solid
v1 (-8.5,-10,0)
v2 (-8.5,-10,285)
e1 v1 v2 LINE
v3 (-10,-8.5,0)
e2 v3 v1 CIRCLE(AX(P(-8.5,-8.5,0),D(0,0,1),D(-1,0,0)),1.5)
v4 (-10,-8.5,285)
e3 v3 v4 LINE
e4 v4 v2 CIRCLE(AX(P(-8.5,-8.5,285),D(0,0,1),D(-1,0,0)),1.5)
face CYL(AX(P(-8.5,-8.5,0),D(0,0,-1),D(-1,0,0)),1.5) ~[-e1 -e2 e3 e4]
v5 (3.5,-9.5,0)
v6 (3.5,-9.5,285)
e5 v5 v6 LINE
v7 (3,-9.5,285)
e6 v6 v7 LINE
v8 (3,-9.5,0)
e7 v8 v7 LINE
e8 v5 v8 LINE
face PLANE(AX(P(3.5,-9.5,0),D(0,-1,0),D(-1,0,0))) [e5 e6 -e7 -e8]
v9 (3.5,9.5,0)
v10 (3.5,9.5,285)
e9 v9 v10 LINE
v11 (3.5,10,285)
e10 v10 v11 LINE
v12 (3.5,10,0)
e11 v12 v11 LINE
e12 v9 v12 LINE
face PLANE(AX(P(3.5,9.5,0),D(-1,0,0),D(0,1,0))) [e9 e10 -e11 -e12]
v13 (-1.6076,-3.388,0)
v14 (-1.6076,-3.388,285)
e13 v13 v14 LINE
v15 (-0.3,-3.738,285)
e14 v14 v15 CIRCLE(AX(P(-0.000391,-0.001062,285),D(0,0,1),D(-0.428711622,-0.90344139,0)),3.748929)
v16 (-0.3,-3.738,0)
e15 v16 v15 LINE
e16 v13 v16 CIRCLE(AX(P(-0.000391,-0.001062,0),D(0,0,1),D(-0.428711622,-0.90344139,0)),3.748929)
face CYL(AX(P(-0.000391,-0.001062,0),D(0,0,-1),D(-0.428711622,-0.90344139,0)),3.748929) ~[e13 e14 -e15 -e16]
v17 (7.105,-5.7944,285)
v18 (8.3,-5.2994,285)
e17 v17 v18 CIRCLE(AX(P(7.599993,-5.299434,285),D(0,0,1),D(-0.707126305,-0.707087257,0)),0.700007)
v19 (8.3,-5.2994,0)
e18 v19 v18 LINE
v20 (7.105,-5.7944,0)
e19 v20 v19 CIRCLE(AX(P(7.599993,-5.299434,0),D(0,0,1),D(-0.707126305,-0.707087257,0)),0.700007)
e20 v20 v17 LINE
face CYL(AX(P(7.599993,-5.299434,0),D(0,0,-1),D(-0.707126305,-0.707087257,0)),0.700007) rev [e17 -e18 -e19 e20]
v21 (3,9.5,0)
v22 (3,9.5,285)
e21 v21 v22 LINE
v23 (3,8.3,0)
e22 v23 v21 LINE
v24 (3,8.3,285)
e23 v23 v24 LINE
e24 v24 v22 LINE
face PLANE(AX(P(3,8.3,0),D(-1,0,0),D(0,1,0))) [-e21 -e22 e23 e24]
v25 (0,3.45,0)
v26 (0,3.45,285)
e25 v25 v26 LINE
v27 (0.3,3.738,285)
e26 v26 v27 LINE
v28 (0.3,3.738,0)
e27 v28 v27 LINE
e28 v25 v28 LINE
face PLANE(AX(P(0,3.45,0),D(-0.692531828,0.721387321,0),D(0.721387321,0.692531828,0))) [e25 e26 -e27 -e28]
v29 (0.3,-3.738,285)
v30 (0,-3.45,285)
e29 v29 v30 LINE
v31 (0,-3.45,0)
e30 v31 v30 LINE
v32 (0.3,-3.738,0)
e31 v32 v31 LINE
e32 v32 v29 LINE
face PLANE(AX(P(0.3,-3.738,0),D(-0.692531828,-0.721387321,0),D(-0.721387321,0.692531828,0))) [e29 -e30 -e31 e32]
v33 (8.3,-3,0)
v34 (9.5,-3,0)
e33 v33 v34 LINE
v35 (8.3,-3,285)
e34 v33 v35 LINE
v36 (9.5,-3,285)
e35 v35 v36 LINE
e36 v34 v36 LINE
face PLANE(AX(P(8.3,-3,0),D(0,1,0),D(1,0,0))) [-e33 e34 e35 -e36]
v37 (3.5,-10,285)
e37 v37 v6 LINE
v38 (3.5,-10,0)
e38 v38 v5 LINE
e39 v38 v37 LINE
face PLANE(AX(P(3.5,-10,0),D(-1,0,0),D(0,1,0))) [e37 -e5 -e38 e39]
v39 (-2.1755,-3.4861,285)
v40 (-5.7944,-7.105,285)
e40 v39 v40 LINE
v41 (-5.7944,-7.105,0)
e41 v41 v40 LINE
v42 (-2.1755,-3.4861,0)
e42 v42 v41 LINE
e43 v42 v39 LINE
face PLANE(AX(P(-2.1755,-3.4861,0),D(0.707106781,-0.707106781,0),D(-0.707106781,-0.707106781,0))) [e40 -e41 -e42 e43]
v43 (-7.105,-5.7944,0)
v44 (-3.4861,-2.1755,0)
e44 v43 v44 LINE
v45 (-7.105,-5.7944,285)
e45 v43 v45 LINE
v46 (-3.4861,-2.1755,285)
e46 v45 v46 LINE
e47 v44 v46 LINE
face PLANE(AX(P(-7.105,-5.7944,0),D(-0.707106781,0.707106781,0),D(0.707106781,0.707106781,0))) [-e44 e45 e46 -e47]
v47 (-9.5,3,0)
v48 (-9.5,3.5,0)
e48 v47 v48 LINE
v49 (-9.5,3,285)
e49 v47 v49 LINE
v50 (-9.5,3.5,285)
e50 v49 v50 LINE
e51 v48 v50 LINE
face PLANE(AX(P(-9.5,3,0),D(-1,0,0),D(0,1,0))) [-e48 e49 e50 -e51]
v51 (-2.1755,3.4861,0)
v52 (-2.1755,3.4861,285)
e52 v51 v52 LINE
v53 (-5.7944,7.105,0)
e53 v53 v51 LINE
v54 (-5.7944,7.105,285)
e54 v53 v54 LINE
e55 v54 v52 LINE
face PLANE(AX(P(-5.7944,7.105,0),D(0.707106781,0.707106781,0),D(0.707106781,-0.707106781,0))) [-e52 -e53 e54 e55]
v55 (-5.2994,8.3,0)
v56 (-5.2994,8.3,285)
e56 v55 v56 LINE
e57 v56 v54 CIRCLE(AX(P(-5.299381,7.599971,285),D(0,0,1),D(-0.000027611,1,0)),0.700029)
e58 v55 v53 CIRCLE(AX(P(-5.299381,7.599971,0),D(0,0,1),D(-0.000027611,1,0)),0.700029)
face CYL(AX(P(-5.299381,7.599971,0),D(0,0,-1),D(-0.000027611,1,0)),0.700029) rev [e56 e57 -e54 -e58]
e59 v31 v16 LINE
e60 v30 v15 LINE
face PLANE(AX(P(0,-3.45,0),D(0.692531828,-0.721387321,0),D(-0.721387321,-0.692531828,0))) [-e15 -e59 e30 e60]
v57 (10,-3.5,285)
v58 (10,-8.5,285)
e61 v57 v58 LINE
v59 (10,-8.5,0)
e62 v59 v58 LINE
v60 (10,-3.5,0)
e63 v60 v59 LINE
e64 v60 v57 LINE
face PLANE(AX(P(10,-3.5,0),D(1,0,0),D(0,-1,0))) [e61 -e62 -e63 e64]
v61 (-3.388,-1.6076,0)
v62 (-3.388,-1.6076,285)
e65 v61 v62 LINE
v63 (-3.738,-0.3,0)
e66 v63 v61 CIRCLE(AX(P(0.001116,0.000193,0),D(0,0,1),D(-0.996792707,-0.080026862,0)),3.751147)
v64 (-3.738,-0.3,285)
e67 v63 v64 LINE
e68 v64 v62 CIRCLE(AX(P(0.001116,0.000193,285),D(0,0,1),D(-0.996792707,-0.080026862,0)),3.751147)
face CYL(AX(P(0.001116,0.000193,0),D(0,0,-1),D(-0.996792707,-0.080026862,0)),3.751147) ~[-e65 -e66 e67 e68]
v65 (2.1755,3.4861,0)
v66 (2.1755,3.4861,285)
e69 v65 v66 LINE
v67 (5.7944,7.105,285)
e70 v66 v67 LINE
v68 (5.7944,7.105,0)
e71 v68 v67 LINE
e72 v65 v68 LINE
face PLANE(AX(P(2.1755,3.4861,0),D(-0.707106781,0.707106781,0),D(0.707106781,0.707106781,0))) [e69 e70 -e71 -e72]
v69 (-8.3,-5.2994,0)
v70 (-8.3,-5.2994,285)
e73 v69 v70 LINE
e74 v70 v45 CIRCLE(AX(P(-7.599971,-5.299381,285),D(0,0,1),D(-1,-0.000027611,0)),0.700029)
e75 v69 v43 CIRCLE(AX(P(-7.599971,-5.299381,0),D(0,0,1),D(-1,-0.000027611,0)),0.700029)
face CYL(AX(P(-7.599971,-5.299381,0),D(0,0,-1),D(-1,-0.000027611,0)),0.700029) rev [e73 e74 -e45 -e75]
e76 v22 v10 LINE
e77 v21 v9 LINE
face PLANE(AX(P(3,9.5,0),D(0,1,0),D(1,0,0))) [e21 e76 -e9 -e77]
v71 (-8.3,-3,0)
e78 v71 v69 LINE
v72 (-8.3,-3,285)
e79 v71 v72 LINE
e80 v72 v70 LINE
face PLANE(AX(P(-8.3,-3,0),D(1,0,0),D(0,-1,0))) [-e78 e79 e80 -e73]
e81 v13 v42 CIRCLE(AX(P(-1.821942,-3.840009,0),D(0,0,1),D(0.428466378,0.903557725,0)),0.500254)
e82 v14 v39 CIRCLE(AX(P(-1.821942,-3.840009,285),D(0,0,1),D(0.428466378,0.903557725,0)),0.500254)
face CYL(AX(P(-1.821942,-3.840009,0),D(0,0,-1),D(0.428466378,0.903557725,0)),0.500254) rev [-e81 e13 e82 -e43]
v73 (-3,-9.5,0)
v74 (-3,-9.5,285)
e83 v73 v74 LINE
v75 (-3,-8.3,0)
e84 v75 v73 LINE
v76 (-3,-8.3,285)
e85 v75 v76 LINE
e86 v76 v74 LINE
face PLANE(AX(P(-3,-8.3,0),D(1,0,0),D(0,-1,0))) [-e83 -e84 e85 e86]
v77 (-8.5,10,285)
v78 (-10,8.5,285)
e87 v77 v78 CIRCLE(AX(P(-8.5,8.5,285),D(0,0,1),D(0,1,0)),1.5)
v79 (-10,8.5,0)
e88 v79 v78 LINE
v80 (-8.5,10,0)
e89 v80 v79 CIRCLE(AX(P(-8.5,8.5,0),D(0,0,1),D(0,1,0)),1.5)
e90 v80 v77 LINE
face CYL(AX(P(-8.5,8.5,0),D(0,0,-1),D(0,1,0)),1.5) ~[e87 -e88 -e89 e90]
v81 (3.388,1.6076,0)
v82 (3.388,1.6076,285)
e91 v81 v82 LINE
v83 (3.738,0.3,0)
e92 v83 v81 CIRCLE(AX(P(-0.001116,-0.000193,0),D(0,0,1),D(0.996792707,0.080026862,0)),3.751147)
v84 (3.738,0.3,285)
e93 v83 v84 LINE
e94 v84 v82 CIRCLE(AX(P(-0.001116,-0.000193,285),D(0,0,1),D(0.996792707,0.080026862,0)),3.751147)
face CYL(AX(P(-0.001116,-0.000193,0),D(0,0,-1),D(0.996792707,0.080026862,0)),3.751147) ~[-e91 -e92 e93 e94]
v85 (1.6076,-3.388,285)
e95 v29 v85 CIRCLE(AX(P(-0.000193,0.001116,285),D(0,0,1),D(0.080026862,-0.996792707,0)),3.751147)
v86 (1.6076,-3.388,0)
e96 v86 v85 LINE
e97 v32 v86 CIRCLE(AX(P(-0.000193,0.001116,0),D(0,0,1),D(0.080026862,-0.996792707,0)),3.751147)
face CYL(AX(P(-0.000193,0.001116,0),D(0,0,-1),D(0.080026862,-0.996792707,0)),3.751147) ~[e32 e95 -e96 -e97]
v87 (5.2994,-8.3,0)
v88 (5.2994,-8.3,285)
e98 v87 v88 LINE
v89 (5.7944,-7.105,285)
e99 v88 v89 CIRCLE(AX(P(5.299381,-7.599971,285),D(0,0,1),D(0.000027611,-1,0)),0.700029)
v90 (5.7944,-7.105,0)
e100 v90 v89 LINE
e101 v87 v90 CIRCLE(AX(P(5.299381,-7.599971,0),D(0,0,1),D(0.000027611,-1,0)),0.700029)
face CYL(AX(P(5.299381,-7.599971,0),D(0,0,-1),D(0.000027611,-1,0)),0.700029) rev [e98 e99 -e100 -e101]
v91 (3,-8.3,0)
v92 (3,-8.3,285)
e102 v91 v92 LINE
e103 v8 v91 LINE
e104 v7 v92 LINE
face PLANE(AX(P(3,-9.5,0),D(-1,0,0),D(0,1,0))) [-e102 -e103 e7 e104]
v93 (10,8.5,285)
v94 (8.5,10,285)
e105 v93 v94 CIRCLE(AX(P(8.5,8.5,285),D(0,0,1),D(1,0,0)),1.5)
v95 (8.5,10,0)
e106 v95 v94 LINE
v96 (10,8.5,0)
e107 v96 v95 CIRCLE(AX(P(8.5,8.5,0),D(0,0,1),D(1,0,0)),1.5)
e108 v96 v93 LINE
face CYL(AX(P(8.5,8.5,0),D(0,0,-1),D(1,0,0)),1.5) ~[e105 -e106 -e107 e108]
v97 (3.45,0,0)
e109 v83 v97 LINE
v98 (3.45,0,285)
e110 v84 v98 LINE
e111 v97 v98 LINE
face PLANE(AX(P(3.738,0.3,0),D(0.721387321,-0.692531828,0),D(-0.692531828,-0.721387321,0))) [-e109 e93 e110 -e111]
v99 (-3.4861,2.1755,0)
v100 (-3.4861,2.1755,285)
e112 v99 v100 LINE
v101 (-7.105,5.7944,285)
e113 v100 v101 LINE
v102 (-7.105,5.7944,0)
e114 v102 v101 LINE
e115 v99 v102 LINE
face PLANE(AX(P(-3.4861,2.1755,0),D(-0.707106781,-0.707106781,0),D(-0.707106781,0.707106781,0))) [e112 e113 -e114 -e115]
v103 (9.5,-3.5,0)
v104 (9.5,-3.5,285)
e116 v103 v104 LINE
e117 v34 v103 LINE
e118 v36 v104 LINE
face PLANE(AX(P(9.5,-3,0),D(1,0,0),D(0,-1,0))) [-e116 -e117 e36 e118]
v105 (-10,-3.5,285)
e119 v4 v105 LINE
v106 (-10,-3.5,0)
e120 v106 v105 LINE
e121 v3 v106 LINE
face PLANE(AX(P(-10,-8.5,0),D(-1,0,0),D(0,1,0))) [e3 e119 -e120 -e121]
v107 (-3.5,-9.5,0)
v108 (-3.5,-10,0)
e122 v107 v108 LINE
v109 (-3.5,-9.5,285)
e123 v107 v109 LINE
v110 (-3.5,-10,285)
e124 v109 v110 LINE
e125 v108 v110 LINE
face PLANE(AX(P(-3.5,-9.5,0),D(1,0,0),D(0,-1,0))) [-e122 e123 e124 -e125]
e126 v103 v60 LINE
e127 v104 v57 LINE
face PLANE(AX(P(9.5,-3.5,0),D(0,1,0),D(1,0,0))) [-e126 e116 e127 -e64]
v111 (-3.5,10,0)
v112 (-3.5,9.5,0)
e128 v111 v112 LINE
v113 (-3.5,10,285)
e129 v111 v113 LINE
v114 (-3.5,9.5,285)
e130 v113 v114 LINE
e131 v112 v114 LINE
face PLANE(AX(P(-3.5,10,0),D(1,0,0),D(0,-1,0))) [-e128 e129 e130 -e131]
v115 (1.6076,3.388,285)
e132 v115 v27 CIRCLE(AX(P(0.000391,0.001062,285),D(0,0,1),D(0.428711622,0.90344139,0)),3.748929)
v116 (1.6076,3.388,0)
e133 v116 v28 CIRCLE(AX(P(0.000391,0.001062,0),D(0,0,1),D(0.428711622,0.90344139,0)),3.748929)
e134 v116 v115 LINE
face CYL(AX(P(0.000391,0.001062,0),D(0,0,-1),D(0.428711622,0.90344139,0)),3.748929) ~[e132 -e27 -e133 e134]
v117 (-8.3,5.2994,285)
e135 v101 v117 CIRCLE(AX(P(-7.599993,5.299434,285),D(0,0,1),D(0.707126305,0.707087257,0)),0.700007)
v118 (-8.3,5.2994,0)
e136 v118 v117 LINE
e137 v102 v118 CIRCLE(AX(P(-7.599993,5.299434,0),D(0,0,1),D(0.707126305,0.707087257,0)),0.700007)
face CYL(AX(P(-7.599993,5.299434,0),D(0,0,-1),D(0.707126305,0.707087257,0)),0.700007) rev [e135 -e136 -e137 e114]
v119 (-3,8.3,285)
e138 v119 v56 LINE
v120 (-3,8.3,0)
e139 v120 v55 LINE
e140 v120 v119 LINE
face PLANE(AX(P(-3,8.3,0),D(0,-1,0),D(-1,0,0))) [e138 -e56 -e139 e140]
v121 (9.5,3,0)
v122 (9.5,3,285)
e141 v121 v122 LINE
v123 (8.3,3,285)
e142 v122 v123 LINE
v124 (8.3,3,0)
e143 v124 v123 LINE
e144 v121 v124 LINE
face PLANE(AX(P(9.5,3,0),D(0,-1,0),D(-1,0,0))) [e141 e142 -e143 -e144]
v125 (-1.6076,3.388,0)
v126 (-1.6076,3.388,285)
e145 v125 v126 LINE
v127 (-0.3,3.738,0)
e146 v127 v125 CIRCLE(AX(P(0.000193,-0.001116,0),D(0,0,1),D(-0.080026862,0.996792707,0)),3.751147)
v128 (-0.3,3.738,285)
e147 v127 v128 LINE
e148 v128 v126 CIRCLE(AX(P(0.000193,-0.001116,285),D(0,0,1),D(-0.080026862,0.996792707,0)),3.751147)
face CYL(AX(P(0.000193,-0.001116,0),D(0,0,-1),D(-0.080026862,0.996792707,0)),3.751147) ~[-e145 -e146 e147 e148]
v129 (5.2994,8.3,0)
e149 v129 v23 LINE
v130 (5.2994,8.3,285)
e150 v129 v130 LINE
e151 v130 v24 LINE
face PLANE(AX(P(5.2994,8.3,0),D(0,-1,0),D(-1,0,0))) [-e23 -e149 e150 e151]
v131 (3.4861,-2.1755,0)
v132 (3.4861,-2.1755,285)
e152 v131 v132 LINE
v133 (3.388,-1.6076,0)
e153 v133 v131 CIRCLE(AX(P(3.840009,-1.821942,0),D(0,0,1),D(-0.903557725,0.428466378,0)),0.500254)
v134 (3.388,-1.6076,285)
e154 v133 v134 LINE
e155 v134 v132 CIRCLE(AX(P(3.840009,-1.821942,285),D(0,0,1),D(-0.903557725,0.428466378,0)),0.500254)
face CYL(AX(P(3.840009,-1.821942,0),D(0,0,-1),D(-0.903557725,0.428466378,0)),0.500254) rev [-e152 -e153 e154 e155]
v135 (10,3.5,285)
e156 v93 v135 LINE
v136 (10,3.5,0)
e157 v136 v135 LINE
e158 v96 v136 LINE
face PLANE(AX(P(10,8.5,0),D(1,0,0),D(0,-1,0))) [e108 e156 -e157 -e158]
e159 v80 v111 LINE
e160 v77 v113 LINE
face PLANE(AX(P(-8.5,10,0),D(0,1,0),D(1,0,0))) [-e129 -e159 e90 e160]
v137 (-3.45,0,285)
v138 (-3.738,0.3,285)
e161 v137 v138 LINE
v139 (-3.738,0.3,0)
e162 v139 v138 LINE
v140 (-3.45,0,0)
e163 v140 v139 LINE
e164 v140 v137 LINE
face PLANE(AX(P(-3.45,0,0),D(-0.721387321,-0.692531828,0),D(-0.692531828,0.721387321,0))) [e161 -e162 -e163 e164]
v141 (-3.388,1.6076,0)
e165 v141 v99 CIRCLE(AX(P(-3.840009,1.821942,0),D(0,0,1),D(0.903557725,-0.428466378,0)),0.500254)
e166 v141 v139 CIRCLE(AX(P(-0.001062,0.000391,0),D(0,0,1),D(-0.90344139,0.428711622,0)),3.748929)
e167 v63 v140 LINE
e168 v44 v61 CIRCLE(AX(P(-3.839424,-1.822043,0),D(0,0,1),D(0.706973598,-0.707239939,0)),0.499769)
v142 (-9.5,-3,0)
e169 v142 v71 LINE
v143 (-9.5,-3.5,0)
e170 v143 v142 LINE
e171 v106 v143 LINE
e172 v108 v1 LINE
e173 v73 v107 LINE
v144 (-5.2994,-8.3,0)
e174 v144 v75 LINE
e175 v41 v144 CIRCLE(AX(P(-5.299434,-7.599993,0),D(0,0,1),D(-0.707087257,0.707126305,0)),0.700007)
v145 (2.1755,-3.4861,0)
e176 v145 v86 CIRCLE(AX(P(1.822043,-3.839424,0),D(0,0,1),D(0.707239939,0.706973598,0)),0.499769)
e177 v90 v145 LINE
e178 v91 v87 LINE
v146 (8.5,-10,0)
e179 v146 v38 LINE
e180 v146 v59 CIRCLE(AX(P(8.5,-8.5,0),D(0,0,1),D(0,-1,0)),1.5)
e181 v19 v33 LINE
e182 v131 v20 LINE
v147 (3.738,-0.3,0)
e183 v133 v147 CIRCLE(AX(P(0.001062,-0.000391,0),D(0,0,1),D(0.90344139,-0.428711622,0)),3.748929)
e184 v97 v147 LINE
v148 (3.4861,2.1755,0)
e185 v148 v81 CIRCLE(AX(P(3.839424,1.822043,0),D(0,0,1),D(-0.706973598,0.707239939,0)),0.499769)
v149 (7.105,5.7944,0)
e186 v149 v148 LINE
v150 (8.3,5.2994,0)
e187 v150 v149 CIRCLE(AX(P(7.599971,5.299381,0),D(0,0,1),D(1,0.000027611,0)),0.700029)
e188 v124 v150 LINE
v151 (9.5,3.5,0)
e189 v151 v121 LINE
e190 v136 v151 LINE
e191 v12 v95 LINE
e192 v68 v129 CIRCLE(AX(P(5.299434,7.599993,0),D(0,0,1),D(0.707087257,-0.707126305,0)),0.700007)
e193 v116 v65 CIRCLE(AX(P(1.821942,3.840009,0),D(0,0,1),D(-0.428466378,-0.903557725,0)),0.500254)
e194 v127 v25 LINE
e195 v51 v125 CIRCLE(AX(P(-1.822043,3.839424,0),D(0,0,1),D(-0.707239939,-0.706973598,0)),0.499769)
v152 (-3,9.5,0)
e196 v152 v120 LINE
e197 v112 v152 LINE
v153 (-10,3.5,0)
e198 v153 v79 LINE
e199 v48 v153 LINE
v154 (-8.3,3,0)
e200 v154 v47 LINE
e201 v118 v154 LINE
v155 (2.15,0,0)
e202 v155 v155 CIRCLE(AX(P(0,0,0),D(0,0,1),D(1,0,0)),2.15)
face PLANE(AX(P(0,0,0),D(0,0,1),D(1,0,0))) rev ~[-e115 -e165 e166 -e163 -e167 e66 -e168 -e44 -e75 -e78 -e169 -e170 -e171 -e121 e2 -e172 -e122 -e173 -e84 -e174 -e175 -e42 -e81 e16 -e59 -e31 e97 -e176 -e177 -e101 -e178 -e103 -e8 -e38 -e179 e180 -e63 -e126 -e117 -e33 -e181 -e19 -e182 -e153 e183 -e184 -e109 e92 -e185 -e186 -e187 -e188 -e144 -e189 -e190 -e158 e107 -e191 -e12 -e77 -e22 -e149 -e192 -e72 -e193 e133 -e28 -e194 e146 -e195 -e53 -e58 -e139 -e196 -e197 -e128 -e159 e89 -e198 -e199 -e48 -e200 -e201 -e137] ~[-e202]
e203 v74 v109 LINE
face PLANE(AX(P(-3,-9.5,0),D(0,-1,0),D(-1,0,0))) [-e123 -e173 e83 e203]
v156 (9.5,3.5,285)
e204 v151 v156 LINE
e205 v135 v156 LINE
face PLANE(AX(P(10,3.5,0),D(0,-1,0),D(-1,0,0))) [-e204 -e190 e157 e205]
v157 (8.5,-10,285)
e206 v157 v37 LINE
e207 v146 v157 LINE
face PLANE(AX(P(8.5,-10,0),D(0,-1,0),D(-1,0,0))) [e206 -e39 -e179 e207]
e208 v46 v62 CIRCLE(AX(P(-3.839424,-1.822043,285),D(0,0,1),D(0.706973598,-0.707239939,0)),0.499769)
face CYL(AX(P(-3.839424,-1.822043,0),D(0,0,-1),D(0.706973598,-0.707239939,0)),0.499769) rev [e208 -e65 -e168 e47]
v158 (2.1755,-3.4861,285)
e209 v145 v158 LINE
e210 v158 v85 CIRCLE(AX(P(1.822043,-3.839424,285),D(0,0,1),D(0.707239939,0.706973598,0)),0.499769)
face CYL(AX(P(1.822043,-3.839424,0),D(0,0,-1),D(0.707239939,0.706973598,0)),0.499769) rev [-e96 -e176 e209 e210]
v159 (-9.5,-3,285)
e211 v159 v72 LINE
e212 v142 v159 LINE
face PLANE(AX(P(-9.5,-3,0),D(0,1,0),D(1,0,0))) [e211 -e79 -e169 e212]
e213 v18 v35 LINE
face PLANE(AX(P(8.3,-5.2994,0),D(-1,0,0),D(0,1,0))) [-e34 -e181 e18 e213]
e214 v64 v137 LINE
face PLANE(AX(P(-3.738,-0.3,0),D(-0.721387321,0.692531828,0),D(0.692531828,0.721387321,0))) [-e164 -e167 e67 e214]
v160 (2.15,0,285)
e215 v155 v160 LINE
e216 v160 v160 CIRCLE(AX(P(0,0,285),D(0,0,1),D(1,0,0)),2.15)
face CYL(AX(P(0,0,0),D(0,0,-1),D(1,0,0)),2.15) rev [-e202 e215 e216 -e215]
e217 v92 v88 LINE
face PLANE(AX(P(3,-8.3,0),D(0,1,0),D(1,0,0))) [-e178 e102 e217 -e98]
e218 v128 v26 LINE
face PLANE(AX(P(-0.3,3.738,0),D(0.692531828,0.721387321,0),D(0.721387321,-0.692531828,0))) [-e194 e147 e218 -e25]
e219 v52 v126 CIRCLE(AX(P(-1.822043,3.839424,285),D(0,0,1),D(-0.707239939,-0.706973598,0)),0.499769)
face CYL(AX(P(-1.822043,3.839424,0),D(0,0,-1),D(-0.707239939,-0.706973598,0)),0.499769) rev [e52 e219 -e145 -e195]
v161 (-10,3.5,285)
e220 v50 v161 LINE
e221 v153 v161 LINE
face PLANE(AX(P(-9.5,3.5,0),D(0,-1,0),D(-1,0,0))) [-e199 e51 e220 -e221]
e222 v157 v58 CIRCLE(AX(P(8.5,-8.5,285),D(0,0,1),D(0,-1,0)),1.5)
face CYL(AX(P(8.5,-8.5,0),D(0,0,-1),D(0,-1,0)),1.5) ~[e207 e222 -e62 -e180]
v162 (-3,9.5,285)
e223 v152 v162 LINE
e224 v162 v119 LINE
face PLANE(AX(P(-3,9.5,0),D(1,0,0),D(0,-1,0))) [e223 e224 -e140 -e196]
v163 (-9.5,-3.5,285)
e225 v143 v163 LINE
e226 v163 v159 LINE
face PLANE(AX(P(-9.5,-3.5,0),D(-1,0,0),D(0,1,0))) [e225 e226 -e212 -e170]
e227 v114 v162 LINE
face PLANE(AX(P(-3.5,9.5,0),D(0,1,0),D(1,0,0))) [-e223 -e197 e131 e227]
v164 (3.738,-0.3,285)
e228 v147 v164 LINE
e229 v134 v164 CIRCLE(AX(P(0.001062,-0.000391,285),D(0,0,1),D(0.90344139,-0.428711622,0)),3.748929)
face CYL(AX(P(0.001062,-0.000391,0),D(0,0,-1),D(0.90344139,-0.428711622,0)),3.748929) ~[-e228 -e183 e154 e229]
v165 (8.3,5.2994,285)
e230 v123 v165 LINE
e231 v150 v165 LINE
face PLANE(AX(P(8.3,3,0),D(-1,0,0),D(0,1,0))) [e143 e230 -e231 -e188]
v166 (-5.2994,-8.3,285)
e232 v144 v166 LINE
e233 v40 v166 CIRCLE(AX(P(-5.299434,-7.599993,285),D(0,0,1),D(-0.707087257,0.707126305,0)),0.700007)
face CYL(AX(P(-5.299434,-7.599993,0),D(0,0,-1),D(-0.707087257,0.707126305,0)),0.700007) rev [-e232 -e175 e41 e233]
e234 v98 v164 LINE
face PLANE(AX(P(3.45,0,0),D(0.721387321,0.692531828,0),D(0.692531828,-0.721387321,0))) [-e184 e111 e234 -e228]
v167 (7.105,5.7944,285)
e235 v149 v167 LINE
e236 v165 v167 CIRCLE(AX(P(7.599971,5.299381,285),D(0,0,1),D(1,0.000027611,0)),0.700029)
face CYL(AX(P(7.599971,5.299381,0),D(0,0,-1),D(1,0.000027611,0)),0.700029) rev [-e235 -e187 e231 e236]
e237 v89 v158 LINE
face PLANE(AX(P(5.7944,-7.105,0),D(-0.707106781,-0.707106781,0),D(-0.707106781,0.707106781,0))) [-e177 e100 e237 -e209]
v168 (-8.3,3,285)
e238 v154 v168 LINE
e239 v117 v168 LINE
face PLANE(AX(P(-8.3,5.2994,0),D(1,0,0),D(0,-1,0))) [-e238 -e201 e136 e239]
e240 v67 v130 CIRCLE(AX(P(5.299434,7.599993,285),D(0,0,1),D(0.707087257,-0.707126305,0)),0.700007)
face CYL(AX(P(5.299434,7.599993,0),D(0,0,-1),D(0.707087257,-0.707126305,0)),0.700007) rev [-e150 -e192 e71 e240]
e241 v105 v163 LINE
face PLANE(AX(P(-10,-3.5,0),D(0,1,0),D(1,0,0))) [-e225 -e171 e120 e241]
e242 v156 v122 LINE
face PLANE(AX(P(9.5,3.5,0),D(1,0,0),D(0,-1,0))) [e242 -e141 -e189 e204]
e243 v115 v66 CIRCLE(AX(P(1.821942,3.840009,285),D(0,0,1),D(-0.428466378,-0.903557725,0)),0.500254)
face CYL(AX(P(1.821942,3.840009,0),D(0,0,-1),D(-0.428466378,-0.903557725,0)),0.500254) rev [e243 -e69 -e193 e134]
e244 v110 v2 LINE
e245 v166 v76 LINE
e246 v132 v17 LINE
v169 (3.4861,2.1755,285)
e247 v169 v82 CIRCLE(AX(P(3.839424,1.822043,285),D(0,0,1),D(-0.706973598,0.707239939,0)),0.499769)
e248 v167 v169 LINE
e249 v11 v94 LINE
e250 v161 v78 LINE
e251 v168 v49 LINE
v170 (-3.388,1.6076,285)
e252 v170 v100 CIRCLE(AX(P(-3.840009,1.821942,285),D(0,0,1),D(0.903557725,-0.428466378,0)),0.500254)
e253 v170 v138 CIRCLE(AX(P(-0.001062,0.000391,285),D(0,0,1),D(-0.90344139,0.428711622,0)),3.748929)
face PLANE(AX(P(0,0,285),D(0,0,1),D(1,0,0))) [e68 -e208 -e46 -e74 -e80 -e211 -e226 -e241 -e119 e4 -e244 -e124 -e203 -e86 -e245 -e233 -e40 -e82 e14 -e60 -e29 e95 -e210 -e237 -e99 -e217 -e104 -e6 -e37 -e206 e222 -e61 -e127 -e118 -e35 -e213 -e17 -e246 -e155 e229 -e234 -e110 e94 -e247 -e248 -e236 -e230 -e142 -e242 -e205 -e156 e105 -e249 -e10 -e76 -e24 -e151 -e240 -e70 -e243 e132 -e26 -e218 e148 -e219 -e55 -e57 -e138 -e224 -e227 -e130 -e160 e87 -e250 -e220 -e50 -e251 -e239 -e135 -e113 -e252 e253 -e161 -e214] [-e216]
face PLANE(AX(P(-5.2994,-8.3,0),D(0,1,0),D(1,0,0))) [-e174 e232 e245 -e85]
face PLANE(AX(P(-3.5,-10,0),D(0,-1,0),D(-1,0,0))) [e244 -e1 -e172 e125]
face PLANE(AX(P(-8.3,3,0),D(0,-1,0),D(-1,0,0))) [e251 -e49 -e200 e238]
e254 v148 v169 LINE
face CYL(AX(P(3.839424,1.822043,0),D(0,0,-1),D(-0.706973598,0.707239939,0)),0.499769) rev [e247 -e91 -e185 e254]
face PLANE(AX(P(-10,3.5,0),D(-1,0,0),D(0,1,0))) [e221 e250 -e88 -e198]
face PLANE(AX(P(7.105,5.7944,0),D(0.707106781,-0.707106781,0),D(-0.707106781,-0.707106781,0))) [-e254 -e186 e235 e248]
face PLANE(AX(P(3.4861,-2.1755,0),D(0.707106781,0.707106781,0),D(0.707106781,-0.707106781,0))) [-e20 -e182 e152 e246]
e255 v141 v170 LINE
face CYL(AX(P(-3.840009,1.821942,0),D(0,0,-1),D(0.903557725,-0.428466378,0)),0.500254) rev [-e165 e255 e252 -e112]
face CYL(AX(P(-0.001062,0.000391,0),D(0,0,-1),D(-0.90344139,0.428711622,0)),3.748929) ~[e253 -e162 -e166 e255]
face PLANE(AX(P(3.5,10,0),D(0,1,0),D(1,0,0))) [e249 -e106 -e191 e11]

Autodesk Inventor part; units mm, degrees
ref_plane "YZ Plane" through (0, 0, 0) normal (1, 0, 0) x (0, 1, 0)
ref_plane "XZ Plane" through (0, 0, 0) normal (0, 1, 0) x (-1, 0, 0)
ref_plane "XY Plane" through (0, 0, 0) normal (0, 0, 1) x (1, 0, 0)
sketch "Skizze1" plane through (0, 0, 0) normal (0, 0, 1) x (1, 0, 0)
  circle A0 centre (0, 0) radius 2.15
  line L0 (-3.5, -9.5) -> (-3.5, -10)
  line L1 (-3, -9.5) -> (-3.5, -9.5)
  line L2 (-3, -8.3) -> (-3, -9.5)
  line L3 (-5.2994, -8.3) -> (-3, -8.3)
  arc A1 (-5.7944, -7.105) -> (-5.2994, -8.3) centre (-5.2994, -7.6) ccw
  line L4 (-2.1755, -3.4861) -> (-5.7944, -7.105)
  arc A2 (-1.6076, -3.388) -> (-2.1755, -3.4861) centre (-1.8219, -3.8397) ccw
  arc A3 (-1.6076, -3.388) -> (-0.3, -3.738) centre (0, 0) ccw
  line L5 (0, -3.45) -> (-0.3, -3.738)
  line L6 (0.3, -3.738) -> (0, -3.45)
  arc A4 (0.3, -3.738) -> (1.6076, -3.388) centre (0, 0) ccw
  arc A5 (2.1755, -3.4861) -> (1.6076, -3.388) centre (1.8219, -3.8397) ccw
  line L7 (5.7944, -7.105) -> (2.1755, -3.4861)
  arc A6 (5.2994, -8.3) -> (5.7944, -7.105) centre (5.2994, -7.6) ccw
  line L8 (3, -8.3) -> (5.2994, -8.3)
  line L9 (3, -9.5) -> (3, -8.3)
  line L10 (3.5, -9.5) -> (3, -9.5)
  line L11 (3.5, -10) -> (3.5, -9.5)
  line L12 (8.5, -10) -> (3.5, -10)
  arc A7 (8.5, -10) -> (10, -8.5) centre (8.5, -8.5) ccw
  line L13 (10, -3.5) -> (10, -8.5)
  line L14 (9.5, -3.5) -> (10, -3.5)
  line L15 (9.5, -3) -> (9.5, -3.5)
  line L16 (8.3, -3) -> (9.5, -3)
  line L17 (8.3, -5.2994) -> (8.3, -3)
  arc A8 (7.105, -5.7944) -> (8.3, -5.2994) centre (7.6, -5.2994) ccw
  line L18 (3.4861, -2.1755) -> (7.105, -5.7944)
  arc A9 (3.388, -1.6076) -> (3.4861, -2.1755) centre (3.8397, -1.8219) ccw
  arc A10 (3.388, -1.6076) -> (3.738, -0.3) centre (0, 0) ccw
  line L19 (3.45, 0) -> (3.738, -0.3)
  line L20 (3.738, 0.3) -> (3.45, 0)
  arc A11 (3.738, 0.3) -> (3.388, 1.6076) centre (0, 0) ccw
  arc A12 (3.4861, 2.1755) -> (3.388, 1.6076) centre (3.8397, 1.8219) ccw
  line L21 (7.105, 5.7944) -> (3.4861, 2.1755)
  arc A13 (8.3, 5.2994) -> (7.105, 5.7944) centre (7.6, 5.2994) ccw
  line L22 (8.3, 3) -> (8.3, 5.2994)
  line L23 (9.5, 3) -> (8.3, 3)
  line L24 (9.5, 3.5) -> (9.5, 3)
  line L25 (10, 3.5) -> (9.5, 3.5)
  line L26 (10, 8.5) -> (10, 3.5)
  arc A14 (10, 8.5) -> (8.5, 10) centre (8.5, 8.5) ccw
  line L27 (3.5, 10) -> (8.5, 10)
  line L28 (3.5, 9.5) -> (3.5, 10)
  line L29 (3, 9.5) -> (3.5, 9.5)
  line L30 (3, 8.3) -> (3, 9.5)
  line L31 (5.2994, 8.3) -> (3, 8.3)
  arc A15 (5.7944, 7.105) -> (5.2994, 8.3) centre (5.2994, 7.6) ccw
  line L32 (2.1755, 3.4861) -> (5.7944, 7.105)
  arc A16 (1.6076, 3.388) -> (2.1755, 3.4861) centre (1.8219, 3.8397) ccw
  arc A17 (1.6076, 3.388) -> (0.3, 3.738) centre (0, 0) ccw
  line L33 (0, 3.45) -> (0.3, 3.738)
  line L34 (-0.3, 3.738) -> (0, 3.45)
  arc A18 (-0.3, 3.738) -> (-1.6076, 3.388) centre (0, 0) ccw
  arc A19 (-2.1755, 3.4861) -> (-1.6076, 3.388) centre (-1.8219, 3.8397) ccw
  line L35 (-5.7944, 7.105) -> (-2.1755, 3.4861)
  arc A20 (-5.2994, 8.3) -> (-5.7944, 7.105) centre (-5.2994, 7.6) ccw
  line L36 (-3, 8.3) -> (-5.2994, 8.3)
  line L37 (-3, 9.5) -> (-3, 8.3)
  line L38 (-3.5, 9.5) -> (-3, 9.5)
  line L39 (-3.5, 10) -> (-3.5, 9.5)
  line L40 (-8.5, 10) -> (-3.5, 10)
  arc A21 (-8.5, 10) -> (-10, 8.5) centre (-8.5, 8.5) ccw
  line L41 (-10, 3.5) -> (-10, 8.5)
  line L42 (-9.5, 3.5) -> (-10, 3.5)
  line L43 (-9.5, 3) -> (-9.5, 3.5)
  line L44 (-8.3, 3) -> (-9.5, 3)
  line L45 (-8.3, 5.2994) -> (-8.3, 3)
  arc A22 (-7.105, 5.7944) -> (-8.3, 5.2994) centre (-7.6, 5.2994) ccw
  line L46 (-3.4861, 2.1755) -> (-7.105, 5.7944)
  arc A23 (-3.388, 1.6076) -> (-3.4861, 2.1755) centre (-3.8397, 1.8219) ccw
  arc A24 (-3.388, 1.6076) -> (-3.738, 0.3) centre (0, 0) ccw
  line L47 (-3.45, 0) -> (-3.738, 0.3)
  line L48 (-3.738, -0.3) -> (-3.45, 0)
  arc A25 (-3.738, -0.3) -> (-3.388, -1.6076) centre (0, 0) ccw
  arc A26 (-3.4861, -2.1755) -> (-3.388, -1.6076) centre (-3.8397, -1.8219) ccw
  line L49 (-7.105, -5.7944) -> (-3.4861, -2.1755)
  arc A27 (-8.3, -5.2994) -> (-7.105, -5.7944) centre (-7.6, -5.2994) ccw
  line L50 (-8.3, -3) -> (-8.3, -5.2994)
  line L51 (-9.5, -3) -> (-8.3, -3)
  line L52 (-9.5, -3.5) -> (-9.5, -3)
  line L53 (-10, -3.5) -> (-9.5, -3.5)
  line L54 (-10, -8.5) -> (-10, -3.5)
  arc A28 (-10, -8.5) -> (-8.5, -10) centre (-8.5, -8.5) ccw
  line L55 (-3.5, -10) -> (-8.5, -10)
  point P0 (18.4588, -14.4564)
extrude "Extrusion1" add sketch "Skizze1" along normal blind 285
properties part number "400mm" material "Aluminium 6061"
